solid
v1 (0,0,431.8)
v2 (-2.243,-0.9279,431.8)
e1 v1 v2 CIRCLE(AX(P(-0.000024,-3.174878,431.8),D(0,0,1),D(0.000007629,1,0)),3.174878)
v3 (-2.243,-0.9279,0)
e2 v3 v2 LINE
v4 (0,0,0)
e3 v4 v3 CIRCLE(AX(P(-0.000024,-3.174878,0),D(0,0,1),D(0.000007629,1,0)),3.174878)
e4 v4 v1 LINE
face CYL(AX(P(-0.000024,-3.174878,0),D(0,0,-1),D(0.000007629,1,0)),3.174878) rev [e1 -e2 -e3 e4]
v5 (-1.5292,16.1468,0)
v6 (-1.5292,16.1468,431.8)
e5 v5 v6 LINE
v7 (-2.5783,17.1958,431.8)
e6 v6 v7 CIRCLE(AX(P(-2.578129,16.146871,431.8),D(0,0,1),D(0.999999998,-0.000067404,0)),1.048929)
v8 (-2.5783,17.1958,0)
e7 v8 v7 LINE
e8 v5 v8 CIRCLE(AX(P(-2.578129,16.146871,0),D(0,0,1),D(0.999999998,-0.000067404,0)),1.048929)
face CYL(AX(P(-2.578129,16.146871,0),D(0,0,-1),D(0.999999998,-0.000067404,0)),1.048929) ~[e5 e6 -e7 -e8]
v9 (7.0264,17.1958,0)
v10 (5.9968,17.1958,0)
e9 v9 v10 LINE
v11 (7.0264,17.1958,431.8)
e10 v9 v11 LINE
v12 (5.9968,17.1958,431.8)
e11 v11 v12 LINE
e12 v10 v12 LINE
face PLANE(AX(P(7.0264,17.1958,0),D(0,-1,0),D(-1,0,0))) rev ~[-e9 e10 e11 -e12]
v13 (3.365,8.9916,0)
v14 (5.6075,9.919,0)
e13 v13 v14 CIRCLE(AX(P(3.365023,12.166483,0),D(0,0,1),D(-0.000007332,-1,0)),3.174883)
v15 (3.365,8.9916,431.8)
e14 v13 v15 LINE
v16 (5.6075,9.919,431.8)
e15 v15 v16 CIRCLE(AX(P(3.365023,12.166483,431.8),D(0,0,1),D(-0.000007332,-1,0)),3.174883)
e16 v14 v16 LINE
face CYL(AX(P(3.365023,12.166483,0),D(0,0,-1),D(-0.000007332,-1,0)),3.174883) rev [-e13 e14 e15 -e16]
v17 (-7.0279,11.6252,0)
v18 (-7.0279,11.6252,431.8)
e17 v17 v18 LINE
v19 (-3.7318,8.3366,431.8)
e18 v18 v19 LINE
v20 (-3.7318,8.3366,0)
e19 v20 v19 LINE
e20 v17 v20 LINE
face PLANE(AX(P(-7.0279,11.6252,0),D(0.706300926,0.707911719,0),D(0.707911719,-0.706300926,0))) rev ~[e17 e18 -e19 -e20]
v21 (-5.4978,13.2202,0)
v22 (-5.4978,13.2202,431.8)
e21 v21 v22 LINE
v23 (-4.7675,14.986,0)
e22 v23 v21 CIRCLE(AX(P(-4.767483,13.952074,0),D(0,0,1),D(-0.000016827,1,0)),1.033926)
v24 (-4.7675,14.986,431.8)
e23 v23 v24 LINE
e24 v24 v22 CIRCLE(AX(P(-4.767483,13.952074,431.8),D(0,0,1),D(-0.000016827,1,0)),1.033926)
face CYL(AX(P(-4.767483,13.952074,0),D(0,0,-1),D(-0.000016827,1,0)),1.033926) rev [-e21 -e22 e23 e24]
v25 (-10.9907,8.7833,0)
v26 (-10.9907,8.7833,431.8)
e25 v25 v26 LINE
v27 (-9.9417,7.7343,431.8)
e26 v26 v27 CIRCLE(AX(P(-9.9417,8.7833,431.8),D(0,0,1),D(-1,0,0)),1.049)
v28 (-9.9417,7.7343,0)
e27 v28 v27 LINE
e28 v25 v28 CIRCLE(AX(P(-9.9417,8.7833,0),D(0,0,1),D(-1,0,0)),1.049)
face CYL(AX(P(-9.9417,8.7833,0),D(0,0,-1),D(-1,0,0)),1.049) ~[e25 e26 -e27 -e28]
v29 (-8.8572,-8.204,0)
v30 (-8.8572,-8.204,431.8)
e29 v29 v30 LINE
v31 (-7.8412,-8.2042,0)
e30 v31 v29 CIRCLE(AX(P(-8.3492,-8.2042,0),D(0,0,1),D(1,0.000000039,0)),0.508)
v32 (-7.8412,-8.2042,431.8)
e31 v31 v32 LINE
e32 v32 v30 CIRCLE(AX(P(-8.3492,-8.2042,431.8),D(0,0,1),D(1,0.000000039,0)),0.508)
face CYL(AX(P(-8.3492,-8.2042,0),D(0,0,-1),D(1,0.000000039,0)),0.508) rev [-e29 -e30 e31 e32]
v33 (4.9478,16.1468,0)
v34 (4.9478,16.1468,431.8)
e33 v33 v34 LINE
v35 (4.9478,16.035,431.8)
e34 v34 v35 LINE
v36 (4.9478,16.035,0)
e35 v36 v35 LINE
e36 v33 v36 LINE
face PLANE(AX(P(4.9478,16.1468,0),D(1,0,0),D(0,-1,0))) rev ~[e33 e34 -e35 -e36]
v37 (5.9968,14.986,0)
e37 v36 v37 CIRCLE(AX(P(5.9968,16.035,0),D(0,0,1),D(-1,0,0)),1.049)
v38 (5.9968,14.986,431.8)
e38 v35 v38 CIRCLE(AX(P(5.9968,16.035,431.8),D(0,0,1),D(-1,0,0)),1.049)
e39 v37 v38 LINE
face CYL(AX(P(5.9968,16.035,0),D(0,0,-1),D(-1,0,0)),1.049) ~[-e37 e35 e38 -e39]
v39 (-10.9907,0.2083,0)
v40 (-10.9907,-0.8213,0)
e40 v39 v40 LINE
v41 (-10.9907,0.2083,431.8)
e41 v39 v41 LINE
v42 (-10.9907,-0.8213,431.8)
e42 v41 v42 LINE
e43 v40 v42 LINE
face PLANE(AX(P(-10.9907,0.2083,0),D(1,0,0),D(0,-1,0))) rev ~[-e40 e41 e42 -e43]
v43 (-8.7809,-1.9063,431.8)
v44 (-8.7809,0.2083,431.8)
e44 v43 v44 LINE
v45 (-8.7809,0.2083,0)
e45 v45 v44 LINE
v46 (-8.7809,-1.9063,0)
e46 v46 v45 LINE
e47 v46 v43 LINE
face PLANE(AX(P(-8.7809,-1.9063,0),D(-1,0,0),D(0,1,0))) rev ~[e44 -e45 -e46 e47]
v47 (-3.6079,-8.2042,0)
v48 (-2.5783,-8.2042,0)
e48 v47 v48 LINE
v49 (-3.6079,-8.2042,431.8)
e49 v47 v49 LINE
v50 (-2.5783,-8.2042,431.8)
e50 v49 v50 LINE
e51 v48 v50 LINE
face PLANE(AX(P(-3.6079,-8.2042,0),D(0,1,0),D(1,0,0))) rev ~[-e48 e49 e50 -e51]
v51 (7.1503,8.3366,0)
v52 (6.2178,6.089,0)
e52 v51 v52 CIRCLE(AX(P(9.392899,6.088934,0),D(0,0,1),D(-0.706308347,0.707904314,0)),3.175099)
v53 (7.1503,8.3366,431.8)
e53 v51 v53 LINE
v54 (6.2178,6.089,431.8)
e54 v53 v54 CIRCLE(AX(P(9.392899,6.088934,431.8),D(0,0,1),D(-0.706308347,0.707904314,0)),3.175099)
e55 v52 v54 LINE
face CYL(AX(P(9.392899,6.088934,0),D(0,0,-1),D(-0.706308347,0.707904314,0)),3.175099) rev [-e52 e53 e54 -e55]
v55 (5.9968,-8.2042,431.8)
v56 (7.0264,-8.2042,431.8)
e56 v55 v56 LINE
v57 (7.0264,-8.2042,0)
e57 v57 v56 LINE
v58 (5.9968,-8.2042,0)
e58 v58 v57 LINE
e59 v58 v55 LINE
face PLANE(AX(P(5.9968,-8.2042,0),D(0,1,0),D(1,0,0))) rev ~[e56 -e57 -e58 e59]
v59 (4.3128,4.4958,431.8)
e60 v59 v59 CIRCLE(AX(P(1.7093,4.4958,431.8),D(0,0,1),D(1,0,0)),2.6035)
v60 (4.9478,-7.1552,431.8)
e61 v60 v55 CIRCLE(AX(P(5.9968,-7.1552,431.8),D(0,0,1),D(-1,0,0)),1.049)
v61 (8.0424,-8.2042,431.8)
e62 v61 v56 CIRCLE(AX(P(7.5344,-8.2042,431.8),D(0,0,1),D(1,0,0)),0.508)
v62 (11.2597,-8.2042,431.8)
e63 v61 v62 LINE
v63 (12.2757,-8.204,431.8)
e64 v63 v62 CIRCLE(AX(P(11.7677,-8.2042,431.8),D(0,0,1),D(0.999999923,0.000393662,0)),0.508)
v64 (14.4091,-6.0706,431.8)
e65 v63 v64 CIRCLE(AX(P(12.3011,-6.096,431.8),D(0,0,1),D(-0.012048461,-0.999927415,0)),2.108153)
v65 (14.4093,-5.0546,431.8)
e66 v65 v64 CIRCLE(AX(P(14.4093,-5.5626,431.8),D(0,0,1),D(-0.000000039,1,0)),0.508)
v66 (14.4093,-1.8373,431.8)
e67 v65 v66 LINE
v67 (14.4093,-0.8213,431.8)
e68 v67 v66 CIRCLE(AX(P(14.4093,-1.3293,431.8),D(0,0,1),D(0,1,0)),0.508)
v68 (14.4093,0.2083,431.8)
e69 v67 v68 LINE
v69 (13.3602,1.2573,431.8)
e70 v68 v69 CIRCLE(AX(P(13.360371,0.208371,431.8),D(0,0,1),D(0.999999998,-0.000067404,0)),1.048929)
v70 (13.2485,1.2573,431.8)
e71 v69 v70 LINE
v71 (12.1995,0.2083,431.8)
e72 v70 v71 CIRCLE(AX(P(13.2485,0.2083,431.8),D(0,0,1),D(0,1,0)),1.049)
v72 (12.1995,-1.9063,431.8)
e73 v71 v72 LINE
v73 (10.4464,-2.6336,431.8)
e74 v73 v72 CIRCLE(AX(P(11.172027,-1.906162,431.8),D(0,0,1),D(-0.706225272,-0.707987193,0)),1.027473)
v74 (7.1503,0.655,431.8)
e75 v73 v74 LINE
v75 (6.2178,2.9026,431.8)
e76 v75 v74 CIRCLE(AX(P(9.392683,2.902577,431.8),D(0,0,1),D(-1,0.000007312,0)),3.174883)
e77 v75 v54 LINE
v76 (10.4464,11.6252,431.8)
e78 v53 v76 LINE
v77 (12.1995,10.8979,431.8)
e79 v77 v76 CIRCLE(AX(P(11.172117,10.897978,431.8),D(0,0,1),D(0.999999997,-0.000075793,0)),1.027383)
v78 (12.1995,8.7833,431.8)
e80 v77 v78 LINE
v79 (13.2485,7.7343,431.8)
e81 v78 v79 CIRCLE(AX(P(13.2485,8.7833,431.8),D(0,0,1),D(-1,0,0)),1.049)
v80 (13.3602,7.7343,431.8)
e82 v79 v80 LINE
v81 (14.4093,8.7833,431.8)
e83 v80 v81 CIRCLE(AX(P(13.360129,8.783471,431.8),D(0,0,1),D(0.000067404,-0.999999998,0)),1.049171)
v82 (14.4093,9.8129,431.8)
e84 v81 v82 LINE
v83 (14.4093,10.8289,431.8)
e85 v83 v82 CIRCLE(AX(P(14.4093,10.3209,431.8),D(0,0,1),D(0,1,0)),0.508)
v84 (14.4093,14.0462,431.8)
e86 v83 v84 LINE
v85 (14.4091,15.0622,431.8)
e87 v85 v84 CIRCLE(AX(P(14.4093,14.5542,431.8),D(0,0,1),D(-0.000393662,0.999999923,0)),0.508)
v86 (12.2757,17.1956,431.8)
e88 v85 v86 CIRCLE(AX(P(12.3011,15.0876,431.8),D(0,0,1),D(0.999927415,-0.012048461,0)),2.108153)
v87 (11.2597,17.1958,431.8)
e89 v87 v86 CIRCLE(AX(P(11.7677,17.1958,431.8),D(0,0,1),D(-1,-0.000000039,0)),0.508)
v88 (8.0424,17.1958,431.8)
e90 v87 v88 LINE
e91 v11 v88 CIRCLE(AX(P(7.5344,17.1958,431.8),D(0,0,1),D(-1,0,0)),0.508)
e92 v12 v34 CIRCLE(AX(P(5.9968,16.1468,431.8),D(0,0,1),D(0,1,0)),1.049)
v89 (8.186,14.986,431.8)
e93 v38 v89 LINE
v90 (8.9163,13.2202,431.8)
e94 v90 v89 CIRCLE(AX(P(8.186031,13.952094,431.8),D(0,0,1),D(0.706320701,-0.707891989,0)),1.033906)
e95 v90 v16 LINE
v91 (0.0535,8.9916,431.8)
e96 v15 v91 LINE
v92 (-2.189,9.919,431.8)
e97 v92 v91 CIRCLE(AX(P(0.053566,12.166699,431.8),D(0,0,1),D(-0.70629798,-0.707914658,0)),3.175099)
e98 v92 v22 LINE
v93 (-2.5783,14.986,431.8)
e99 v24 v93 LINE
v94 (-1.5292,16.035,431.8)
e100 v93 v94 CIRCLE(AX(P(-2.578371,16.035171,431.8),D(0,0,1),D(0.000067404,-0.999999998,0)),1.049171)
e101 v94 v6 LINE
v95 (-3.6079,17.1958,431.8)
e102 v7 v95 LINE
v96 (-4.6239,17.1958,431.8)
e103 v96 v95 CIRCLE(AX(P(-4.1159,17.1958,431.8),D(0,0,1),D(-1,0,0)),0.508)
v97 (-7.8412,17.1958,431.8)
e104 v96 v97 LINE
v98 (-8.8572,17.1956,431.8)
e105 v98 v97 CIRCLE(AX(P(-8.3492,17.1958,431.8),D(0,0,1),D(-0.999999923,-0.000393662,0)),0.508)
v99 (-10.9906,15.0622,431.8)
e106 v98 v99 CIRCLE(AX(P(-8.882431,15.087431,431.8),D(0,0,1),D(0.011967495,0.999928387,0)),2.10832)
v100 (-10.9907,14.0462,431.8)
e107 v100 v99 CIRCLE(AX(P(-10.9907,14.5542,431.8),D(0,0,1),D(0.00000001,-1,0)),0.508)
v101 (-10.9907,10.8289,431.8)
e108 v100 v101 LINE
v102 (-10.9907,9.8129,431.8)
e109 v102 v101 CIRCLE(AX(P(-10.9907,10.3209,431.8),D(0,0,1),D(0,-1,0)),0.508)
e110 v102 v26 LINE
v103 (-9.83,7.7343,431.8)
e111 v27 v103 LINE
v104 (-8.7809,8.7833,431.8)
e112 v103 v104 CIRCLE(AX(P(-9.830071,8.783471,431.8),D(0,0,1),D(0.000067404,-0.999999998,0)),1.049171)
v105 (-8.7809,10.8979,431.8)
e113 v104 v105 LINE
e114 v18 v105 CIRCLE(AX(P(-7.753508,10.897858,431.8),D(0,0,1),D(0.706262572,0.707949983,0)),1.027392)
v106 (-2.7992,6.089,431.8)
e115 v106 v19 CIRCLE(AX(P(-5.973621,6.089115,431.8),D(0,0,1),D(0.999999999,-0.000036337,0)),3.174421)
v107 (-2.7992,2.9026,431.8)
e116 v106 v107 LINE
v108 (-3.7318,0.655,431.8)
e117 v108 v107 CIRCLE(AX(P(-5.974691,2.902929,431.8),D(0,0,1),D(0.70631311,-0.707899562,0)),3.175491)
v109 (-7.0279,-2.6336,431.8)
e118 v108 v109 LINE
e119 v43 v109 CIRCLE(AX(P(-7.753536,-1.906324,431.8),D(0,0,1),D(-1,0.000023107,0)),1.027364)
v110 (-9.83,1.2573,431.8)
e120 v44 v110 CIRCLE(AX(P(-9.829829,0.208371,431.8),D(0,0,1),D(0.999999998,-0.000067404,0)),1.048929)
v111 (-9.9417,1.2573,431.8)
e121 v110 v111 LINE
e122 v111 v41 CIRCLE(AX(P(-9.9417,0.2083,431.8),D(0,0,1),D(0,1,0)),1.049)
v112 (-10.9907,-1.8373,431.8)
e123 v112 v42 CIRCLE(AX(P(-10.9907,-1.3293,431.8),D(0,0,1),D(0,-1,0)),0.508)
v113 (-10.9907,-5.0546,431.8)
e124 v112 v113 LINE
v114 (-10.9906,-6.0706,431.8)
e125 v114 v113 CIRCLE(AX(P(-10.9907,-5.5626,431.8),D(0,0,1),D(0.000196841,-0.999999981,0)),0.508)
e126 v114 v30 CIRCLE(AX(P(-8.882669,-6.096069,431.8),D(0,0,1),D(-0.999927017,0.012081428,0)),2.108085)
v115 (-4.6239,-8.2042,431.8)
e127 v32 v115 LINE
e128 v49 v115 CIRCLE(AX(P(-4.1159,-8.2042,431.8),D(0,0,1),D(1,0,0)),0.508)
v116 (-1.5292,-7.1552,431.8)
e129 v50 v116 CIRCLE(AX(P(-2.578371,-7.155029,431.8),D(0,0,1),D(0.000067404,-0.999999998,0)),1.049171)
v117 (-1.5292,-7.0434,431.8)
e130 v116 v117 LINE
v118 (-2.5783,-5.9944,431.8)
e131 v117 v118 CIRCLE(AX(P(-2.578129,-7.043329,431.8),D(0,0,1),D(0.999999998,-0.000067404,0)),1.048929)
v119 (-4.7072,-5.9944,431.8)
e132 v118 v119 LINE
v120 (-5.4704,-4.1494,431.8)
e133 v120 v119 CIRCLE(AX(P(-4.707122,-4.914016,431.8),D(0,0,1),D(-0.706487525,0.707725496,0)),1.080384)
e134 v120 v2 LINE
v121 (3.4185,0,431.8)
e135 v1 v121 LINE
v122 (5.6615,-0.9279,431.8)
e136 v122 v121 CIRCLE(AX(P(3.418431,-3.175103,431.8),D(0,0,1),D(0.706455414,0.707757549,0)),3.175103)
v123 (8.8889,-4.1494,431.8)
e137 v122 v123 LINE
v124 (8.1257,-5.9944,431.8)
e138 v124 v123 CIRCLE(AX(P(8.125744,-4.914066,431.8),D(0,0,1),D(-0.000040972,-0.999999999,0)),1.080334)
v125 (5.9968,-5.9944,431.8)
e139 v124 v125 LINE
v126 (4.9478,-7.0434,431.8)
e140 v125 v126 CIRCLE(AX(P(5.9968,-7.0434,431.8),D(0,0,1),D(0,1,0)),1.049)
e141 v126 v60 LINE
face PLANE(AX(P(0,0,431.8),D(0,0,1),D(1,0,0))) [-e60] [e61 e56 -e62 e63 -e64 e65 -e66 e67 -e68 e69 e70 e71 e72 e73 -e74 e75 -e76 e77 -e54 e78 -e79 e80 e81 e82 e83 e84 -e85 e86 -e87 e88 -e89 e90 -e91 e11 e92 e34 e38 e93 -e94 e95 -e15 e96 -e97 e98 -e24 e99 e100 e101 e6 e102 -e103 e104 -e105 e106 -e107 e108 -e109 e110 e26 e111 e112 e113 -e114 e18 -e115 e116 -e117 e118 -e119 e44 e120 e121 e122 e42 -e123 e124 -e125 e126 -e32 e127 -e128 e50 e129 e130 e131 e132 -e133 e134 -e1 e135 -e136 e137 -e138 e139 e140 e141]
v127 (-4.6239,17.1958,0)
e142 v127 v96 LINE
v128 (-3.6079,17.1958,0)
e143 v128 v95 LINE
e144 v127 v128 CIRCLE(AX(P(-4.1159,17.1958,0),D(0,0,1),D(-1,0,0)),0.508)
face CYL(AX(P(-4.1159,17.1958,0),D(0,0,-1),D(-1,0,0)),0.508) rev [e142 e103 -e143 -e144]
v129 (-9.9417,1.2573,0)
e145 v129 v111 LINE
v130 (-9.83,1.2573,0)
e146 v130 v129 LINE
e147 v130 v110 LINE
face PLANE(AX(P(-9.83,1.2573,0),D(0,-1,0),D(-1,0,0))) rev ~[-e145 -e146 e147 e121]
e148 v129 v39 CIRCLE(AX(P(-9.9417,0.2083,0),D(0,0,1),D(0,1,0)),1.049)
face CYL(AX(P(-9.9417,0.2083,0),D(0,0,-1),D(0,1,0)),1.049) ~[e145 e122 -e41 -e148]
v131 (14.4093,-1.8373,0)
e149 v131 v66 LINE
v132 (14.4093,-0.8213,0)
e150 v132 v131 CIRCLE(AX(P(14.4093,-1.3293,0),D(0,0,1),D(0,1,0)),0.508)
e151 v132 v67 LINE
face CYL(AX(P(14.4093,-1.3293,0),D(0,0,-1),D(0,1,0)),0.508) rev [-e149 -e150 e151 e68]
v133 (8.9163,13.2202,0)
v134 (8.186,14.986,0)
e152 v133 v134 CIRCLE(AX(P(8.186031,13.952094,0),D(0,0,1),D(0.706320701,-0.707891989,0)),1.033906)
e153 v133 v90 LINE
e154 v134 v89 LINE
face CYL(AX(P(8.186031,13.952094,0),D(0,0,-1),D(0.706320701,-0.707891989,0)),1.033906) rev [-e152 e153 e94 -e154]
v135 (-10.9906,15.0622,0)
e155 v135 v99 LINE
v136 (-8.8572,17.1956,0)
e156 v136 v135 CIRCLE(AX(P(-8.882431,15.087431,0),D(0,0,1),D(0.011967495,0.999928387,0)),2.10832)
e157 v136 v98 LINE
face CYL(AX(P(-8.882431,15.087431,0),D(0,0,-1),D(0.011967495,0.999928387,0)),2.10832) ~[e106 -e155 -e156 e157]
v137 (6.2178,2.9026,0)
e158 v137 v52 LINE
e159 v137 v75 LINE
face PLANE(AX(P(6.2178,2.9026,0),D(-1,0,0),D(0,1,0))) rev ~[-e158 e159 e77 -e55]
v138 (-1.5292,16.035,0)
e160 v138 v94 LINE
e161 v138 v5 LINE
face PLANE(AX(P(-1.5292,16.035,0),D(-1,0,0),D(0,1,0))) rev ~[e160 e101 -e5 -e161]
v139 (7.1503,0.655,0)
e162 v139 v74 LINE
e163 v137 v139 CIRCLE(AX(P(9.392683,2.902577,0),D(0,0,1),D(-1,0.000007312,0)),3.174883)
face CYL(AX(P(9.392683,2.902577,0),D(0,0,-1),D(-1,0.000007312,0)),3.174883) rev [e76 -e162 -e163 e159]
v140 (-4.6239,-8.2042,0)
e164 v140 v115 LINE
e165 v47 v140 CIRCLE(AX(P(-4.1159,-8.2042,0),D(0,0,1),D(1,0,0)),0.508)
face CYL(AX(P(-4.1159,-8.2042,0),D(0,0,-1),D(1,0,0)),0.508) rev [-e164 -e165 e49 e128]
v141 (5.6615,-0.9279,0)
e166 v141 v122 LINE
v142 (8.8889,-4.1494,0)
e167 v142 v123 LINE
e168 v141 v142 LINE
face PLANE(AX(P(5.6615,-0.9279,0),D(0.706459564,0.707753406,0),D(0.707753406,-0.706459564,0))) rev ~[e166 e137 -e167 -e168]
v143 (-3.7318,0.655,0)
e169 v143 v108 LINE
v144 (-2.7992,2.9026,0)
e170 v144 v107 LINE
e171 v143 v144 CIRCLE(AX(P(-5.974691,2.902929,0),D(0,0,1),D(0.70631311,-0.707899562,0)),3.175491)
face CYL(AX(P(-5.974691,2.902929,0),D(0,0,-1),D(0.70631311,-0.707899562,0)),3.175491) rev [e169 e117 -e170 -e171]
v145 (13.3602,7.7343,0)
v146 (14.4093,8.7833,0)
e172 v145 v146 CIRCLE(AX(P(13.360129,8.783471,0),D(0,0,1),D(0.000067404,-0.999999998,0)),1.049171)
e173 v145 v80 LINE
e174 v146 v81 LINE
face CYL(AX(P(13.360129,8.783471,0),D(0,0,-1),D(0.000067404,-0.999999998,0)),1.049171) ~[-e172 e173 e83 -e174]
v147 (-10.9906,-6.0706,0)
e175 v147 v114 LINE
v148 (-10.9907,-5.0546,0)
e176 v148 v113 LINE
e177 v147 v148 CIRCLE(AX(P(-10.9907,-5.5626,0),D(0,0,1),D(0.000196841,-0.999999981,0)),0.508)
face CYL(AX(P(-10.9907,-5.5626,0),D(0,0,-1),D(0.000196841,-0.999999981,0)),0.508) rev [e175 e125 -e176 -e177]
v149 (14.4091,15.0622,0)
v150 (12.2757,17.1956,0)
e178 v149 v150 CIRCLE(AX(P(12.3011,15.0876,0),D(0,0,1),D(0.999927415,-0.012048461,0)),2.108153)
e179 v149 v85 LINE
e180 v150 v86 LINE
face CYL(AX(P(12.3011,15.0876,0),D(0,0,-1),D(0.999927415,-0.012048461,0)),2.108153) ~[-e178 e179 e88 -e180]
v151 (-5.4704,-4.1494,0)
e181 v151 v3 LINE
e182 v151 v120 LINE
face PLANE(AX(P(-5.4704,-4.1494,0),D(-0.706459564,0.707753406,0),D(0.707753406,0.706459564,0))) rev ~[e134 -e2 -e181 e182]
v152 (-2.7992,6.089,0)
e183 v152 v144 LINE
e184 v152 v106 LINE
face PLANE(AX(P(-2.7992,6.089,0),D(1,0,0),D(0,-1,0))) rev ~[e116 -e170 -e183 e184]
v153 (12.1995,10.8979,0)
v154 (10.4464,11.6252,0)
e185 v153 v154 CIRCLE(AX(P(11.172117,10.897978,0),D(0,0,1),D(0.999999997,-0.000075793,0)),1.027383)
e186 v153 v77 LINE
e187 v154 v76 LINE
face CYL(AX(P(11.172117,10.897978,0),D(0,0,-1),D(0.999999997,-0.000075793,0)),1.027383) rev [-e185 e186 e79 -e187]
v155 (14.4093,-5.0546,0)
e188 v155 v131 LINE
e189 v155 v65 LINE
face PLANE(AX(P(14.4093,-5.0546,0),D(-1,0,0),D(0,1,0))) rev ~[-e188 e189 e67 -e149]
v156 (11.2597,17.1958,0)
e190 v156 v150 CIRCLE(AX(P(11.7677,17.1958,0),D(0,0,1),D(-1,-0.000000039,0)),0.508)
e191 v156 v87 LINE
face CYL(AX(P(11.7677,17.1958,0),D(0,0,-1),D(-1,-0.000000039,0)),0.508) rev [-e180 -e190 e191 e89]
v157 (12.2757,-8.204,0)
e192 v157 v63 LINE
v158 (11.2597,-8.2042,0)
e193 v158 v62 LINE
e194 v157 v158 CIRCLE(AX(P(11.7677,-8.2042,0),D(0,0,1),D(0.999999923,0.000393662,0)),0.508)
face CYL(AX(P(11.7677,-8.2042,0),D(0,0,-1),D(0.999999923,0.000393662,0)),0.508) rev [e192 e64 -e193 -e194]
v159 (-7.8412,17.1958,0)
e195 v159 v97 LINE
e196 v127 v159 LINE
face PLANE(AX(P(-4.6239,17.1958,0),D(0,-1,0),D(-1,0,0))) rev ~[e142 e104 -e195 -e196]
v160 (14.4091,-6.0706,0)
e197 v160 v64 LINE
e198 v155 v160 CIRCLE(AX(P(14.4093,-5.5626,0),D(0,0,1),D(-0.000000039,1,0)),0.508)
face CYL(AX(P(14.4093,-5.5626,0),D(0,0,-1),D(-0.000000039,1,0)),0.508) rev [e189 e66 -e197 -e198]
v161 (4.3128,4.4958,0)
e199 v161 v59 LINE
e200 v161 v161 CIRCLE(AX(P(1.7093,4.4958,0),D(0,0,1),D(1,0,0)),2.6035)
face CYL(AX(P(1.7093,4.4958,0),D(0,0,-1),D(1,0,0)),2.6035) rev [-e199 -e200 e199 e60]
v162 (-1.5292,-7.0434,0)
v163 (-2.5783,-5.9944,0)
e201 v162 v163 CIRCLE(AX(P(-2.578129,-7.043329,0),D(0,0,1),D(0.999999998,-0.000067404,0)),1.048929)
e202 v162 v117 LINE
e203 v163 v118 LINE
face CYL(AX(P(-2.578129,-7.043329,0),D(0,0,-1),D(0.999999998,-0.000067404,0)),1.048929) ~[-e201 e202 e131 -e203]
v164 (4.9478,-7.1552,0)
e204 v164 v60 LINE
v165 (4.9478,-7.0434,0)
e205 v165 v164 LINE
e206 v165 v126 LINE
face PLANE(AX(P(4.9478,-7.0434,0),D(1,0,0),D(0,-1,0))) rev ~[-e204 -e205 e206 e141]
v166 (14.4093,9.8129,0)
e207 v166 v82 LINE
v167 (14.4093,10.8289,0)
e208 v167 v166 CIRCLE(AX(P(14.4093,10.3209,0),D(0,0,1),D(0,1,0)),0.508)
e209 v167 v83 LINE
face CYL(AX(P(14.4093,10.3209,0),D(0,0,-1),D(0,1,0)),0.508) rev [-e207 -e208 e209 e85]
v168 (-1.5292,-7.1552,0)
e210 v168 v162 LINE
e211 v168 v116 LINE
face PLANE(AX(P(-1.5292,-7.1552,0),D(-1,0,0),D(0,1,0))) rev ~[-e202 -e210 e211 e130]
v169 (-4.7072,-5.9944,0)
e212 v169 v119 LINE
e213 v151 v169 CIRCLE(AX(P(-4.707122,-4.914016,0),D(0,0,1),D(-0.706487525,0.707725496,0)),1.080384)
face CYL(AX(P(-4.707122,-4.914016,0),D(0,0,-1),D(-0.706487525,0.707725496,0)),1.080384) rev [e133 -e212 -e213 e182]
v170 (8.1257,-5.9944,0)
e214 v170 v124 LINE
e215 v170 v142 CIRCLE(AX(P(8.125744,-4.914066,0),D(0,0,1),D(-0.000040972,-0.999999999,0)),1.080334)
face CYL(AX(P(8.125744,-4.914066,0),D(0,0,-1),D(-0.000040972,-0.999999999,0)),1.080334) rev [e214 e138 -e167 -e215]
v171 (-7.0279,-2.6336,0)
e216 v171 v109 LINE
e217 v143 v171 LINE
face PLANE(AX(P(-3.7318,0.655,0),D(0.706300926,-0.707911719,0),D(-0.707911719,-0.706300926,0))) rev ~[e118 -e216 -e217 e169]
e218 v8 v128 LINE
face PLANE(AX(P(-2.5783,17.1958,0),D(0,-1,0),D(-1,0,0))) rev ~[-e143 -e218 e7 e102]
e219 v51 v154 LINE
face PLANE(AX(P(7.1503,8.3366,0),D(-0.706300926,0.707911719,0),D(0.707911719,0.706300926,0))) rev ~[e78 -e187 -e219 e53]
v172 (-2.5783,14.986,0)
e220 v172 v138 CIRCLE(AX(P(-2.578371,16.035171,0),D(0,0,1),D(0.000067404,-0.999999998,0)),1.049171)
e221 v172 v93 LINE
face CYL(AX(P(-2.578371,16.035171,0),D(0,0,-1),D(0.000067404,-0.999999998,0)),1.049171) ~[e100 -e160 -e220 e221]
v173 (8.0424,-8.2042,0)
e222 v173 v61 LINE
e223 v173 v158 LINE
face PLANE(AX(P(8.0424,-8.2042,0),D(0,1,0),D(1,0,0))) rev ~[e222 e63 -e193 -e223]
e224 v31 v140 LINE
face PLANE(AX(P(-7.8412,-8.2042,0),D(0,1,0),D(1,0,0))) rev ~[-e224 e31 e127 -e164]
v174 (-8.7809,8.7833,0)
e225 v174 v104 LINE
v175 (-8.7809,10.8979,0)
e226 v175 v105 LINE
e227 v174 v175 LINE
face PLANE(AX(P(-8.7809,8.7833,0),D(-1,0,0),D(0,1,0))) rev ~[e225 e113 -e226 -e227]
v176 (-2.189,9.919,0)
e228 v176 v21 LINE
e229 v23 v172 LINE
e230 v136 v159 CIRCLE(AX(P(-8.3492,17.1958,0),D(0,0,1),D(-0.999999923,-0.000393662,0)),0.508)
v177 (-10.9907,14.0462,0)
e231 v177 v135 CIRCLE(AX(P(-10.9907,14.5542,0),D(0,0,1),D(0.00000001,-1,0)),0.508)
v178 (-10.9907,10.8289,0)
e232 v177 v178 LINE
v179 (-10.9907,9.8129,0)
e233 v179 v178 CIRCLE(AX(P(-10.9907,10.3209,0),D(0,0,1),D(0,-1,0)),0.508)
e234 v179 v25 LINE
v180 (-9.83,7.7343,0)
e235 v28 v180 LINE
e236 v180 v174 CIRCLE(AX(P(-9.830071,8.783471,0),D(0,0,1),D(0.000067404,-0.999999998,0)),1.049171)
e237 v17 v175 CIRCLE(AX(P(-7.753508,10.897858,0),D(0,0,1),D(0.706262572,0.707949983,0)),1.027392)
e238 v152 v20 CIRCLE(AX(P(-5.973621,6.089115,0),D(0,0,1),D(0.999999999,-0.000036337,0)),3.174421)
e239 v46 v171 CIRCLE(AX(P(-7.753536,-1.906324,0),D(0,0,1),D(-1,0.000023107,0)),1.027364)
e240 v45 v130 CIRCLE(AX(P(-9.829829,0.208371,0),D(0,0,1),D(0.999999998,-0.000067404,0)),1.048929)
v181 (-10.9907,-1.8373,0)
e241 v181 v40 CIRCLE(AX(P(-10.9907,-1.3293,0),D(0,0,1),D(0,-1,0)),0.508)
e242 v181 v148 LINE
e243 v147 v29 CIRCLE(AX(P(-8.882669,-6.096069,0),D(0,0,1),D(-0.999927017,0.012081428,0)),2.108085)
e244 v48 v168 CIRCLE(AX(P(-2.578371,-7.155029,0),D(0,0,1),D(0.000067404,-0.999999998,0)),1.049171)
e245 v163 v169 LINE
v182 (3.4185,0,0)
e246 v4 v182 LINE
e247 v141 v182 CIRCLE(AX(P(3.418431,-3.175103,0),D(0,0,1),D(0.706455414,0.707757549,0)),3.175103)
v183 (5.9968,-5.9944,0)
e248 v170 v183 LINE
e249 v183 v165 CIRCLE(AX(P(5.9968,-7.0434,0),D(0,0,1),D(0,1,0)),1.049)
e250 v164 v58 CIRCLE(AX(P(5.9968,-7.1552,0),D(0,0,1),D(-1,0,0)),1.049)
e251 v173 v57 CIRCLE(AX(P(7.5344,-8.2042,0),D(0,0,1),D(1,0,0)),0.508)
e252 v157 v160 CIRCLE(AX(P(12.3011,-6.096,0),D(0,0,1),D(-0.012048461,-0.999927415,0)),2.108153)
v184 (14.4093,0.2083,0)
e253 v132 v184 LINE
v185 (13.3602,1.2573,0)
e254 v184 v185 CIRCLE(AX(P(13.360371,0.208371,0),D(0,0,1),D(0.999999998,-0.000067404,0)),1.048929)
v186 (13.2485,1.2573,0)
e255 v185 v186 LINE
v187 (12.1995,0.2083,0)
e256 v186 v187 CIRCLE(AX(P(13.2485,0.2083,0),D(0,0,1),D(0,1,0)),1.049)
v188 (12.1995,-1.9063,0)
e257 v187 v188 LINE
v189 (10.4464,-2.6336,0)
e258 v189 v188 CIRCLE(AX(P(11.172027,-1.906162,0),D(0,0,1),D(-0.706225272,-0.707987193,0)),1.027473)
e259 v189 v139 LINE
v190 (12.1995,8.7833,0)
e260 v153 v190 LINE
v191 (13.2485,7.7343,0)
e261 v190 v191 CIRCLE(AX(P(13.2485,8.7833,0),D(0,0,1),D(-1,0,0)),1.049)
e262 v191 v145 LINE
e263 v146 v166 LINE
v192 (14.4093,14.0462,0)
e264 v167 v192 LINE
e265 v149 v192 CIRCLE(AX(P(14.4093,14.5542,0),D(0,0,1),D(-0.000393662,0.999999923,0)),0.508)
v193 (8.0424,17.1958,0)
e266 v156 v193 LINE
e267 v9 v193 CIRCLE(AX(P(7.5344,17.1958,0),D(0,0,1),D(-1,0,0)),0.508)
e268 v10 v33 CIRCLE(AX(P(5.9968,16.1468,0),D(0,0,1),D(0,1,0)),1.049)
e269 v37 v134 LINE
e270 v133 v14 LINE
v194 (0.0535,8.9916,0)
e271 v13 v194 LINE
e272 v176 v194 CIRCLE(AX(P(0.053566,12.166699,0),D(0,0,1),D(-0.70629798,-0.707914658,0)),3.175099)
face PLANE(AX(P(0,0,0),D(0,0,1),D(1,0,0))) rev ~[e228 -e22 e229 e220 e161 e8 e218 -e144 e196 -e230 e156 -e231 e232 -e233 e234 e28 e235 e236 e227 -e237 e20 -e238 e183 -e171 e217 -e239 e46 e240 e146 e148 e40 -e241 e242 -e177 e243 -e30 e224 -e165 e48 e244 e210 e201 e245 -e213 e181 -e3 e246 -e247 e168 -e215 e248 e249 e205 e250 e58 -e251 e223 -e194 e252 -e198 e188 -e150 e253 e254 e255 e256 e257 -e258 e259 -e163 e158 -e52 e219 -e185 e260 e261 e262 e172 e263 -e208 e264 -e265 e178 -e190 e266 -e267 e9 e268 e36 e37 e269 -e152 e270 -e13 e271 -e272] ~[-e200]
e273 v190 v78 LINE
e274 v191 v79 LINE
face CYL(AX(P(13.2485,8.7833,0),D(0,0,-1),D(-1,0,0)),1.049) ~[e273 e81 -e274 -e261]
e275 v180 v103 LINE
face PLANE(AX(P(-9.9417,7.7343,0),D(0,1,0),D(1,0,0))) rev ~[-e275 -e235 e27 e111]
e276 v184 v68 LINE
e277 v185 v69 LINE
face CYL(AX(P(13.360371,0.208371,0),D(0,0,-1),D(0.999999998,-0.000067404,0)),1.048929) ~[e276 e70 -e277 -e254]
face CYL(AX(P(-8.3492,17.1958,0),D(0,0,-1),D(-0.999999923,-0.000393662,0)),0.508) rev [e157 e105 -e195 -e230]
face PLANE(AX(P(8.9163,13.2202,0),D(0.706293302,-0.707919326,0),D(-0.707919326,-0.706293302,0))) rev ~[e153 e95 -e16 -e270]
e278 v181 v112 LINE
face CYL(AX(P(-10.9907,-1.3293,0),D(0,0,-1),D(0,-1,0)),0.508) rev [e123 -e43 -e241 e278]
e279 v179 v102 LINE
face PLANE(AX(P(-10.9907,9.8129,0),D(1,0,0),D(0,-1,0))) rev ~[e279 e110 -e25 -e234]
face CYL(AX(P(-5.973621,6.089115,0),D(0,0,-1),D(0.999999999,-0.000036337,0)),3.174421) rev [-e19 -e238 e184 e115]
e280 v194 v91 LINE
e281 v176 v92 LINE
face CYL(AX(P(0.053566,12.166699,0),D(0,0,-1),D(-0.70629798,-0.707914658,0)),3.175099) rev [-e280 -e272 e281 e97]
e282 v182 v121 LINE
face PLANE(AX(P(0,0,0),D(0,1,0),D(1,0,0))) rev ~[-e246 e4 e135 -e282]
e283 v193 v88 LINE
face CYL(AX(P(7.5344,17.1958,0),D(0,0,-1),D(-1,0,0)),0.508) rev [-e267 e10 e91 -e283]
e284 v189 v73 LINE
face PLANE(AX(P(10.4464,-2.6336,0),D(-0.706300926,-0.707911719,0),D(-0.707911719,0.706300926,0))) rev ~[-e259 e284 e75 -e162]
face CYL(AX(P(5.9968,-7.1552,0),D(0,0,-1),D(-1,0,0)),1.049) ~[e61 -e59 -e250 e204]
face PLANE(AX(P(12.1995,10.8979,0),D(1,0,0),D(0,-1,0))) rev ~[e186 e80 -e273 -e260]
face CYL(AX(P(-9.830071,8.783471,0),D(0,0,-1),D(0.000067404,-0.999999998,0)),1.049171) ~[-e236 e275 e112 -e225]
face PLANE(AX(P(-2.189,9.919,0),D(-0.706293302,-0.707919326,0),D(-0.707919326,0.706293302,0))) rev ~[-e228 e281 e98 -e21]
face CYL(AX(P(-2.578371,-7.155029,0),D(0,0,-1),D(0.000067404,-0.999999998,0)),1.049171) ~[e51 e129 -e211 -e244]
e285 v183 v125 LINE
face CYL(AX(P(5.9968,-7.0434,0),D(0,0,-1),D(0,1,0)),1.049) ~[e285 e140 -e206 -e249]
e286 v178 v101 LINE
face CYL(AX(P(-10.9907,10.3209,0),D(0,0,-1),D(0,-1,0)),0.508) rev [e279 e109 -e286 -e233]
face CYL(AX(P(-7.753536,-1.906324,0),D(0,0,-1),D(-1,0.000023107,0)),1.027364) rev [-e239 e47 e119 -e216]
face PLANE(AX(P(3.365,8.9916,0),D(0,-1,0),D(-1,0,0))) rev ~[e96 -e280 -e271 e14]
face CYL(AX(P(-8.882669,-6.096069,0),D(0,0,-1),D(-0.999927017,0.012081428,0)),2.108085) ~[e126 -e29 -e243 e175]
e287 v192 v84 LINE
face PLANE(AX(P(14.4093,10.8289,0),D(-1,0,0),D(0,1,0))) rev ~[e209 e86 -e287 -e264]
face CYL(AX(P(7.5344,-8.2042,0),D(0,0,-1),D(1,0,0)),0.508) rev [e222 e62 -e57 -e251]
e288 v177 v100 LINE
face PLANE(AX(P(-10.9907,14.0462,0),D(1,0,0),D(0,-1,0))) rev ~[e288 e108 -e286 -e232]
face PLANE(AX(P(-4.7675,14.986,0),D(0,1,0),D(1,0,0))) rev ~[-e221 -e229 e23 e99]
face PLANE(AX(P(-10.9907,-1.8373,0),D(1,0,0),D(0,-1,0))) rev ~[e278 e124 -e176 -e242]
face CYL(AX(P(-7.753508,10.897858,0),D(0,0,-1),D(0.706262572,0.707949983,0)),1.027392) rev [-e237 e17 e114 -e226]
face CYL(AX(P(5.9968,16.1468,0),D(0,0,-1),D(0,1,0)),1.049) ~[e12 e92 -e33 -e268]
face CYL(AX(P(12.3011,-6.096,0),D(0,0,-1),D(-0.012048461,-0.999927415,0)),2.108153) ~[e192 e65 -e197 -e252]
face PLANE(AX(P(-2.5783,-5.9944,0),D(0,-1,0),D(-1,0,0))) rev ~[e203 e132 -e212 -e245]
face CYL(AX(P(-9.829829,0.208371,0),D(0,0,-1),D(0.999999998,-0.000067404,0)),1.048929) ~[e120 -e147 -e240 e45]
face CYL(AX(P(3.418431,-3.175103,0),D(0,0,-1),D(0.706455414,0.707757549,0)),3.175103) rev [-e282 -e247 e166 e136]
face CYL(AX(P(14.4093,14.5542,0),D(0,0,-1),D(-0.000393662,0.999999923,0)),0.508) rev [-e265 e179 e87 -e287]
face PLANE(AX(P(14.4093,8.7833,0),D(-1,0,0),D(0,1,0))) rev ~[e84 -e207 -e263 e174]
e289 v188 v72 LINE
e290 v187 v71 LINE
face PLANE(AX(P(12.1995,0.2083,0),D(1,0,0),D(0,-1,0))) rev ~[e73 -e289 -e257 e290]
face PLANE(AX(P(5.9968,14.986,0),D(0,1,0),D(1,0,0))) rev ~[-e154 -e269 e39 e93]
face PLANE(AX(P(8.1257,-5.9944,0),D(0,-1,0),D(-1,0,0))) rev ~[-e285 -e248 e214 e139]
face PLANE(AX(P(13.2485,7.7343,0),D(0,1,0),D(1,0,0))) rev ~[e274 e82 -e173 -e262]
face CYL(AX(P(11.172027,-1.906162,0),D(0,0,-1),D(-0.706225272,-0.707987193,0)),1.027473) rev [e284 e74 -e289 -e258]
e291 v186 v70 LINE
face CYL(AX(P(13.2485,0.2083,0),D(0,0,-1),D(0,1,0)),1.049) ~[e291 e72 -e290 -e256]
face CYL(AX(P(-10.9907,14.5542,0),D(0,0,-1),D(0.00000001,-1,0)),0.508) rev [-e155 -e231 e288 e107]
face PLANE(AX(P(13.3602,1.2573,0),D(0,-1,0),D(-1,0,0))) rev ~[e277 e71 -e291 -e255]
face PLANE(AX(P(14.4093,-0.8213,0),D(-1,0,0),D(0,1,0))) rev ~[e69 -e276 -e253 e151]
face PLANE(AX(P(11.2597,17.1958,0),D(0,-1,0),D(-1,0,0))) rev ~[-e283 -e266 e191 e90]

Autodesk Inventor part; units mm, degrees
ref_plane "YZ Plane" through (0, 0, 0) normal (1, 0, 0) x (0, 1, 0)
ref_plane "XZ Plane" through (0, 0, 0) normal (0, 1, 0) x (-1, 0, 0)
ref_plane "XY Plane" through (0, 0, 0) normal (0, 0, 1) x (1, 0, 0)
sketch "Sketch1" plane through (0, 0, 0) normal (0, 0, 1) x (1, 0, 0)
  arc A0 (-5.4704, -4.1494) -> (-4.7072, -5.9944) centre (-4.7072, -4.914) ccw
  line L0 (-5.4704, -4.1494) -> (-2.243, -0.9279)
  arc A1 (0, 0) -> (-2.243, -0.9279) centre (0, -3.175) ccw
  line L1 (0, 0) -> (3.4185, 0)
  arc A2 (5.6615, -0.9279) -> (3.4185, 0) centre (3.4185, -3.175) ccw
  line L2 (5.6615, -0.9279) -> (8.8889, -4.1494)
  arc A3 (8.1257, -5.9944) -> (8.8889, -4.1494) centre (8.1257, -4.914) ccw
  line L3 (8.1257, -5.9944) -> (5.9968, -5.9944)
  arc A4 (5.9968, -5.9944) -> (4.9478, -7.0434) centre (5.9968, -7.0434) ccw
  line L4 (4.9478, -7.0434) -> (4.9478, -7.1552)
  arc A5 (4.9478, -7.1552) -> (5.9968, -8.2042) centre (5.9968, -7.1552) ccw
  line L5 (5.9968, -8.2042) -> (7.0264, -8.2042)
  arc A6 (8.0424, -8.2042) -> (7.0264, -8.2042) centre (7.5344, -8.2042) ccw
  line L6 (8.0424, -8.2042) -> (11.2597, -8.2042)
  arc A7 (12.2757, -8.204) -> (11.2597, -8.2042) centre (11.7677, -8.2042) ccw
  arc A8 (12.2757, -8.204) -> (14.4091, -6.0706) centre (12.3011, -6.096) ccw
  arc A9 (14.4093, -5.0546) -> (14.4091, -6.0706) centre (14.4093, -5.5626) ccw
  line L7 (14.4093, -5.0546) -> (14.4093, -1.8373)
  arc A10 (14.4093, -0.8213) -> (14.4093, -1.8373) centre (14.4093, -1.3293) ccw
  line L8 (14.4093, -0.8213) -> (14.4093, 0.2083)
  arc A11 (14.4093, 0.2083) -> (13.3602, 1.2573) centre (13.3602, 0.2083) ccw
  line L9 (13.3602, 1.2573) -> (13.2485, 1.2573)
  arc A12 (13.2485, 1.2573) -> (12.1995, 0.2083) centre (13.2485, 0.2083) ccw
  line L10 (12.1995, 0.2083) -> (12.1995, -1.9063)
  arc A13 (10.4464, -2.6336) -> (12.1995, -1.9063) centre (11.172, -1.9063) ccw
  line L11 (10.4464, -2.6336) -> (7.1503, 0.655)
  arc A14 (6.2178, 2.9026) -> (7.1503, 0.655) centre (9.3928, 2.9026) ccw
  line L12 (6.2178, 2.9026) -> (6.2178, 6.089)
  arc A15 (7.1503, 8.3366) -> (6.2178, 6.089) centre (9.3928, 6.089) ccw
  line L13 (7.1503, 8.3366) -> (10.4464, 11.6252)
  arc A16 (12.1995, 10.8979) -> (10.4464, 11.6252) centre (11.172, 10.8979) ccw
  line L14 (12.1995, 10.8979) -> (12.1995, 8.7833)
  arc A17 (12.1995, 8.7833) -> (13.2485, 7.7343) centre (13.2485, 8.7833) ccw
  line L15 (13.2485, 7.7343) -> (13.3602, 7.7343)
  arc A18 (13.3602, 7.7343) -> (14.4093, 8.7833) centre (13.3602, 8.7833) ccw
  line L16 (14.4093, 8.7833) -> (14.4093, 9.8129)
  arc A19 (14.4093, 10.8289) -> (14.4093, 9.8129) centre (14.4093, 10.3209) ccw
  line L17 (14.4093, 10.8289) -> (14.4093, 14.0462)
  arc A20 (14.4091, 15.0622) -> (14.4093, 14.0462) centre (14.4093, 14.5542) ccw
  arc A21 (14.4091, 15.0622) -> (12.2757, 17.1956) centre (12.3011, 15.0876) ccw
  arc A22 (11.2597, 17.1958) -> (12.2757, 17.1956) centre (11.7677, 17.1958) ccw
  line L18 (11.2597, 17.1958) -> (8.0424, 17.1958)
  arc A23 (7.0264, 17.1958) -> (8.0424, 17.1958) centre (7.5344, 17.1958) ccw
  line L19 (7.0264, 17.1958) -> (5.9968, 17.1958)
  arc A24 (5.9968, 17.1958) -> (4.9478, 16.1468) centre (5.9968, 16.1468) ccw
  line L20 (4.9478, 16.1468) -> (4.9478, 16.035)
  arc A25 (4.9478, 16.035) -> (5.9968, 14.986) centre (5.9968, 16.035) ccw
  line L21 (5.9968, 14.986) -> (8.186, 14.986)
  arc A26 (8.9163, 13.2202) -> (8.186, 14.986) centre (8.186, 13.9521) ccw
  line L22 (8.9163, 13.2202) -> (5.6075, 9.919)
  arc A27 (3.365, 8.9916) -> (5.6075, 9.919) centre (3.365, 12.1666) ccw
  line L23 (3.365, 8.9916) -> (0.0535, 8.9916)
  arc A28 (-2.189, 9.919) -> (0.0535, 8.9916) centre (0.0535, 12.1666) ccw
  line L24 (-2.189, 9.919) -> (-5.4978, 13.2202)
  arc A29 (-4.7675, 14.986) -> (-5.4978, 13.2202) centre (-4.7675, 13.9521) ccw
  line L25 (-4.7675, 14.986) -> (-2.5783, 14.986)
  arc A30 (-2.5783, 14.986) -> (-1.5292, 16.035) centre (-2.5783, 16.035) ccw
  line L26 (-1.5292, 16.035) -> (-1.5292, 16.1468)
  arc A31 (-1.5292, 16.1468) -> (-2.5783, 17.1958) centre (-2.5783, 16.1468) ccw
  line L27 (-2.5783, 17.1958) -> (-3.6079, 17.1958)
  arc A32 (-4.6239, 17.1958) -> (-3.6079, 17.1958) centre (-4.1159, 17.1958) ccw
  line L28 (-4.6239, 17.1958) -> (-7.8412, 17.1958)
  arc A33 (-8.8572, 17.1956) -> (-7.8412, 17.1958) centre (-8.3492, 17.1958) ccw
  arc A34 (-8.8572, 17.1956) -> (-10.9906, 15.0622) centre (-8.8825, 15.0876) ccw
  arc A35 (-10.9907, 14.0462) -> (-10.9906, 15.0622) centre (-10.9907, 14.5542) ccw
  line L29 (-10.9907, 14.0462) -> (-10.9907, 10.8289)
  arc A36 (-10.9907, 9.8129) -> (-10.9907, 10.8289) centre (-10.9907, 10.3209) ccw
  line L30 (-10.9907, 9.8129) -> (-10.9907, 8.7833)
  arc A37 (-10.9907, 8.7833) -> (-9.9417, 7.7343) centre (-9.9417, 8.7833) ccw
  line L31 (-9.9417, 7.7343) -> (-9.83, 7.7343)
  arc A38 (-9.83, 7.7343) -> (-8.7809, 8.7833) centre (-9.83, 8.7833) ccw
  line L32 (-8.7809, 8.7833) -> (-8.7809, 10.8979)
  arc A39 (-7.0279, 11.6252) -> (-8.7809, 10.8979) centre (-7.7535, 10.8979) ccw
  line L33 (-7.0279, 11.6252) -> (-3.7318, 8.3366)
  arc A40 (-2.7992, 6.089) -> (-3.7318, 8.3366) centre (-5.9742, 6.089) ccw
  line L34 (-2.7992, 6.089) -> (-2.7992, 2.9026)
  arc A41 (-3.7318, 0.655) -> (-2.7992, 2.9026) centre (-5.9742, 2.9026) ccw
  line L35 (-3.7318, 0.655) -> (-7.0279, -2.6336)
  arc A42 (-8.7809, -1.9063) -> (-7.0279, -2.6336) centre (-7.7535, -1.9063) ccw
  line L36 (-8.7809, -1.9063) -> (-8.7809, 0.2083)
  arc A43 (-8.7809, 0.2083) -> (-9.83, 1.2573) centre (-9.83, 0.2083) ccw
  line L37 (-9.83, 1.2573) -> (-9.9417, 1.2573)
  arc A44 (-9.9417, 1.2573) -> (-10.9907, 0.2083) centre (-9.9417, 0.2083) ccw
  line L38 (-10.9907, 0.2083) -> (-10.9907, -0.8213)
  arc A45 (-10.9907, -1.8373) -> (-10.9907, -0.8213) centre (-10.9907, -1.3293) ccw
  line L39 (-10.9907, -1.8373) -> (-10.9907, -5.0546)
  arc A46 (-10.9906, -6.0706) -> (-10.9907, -5.0546) centre (-10.9907, -5.5626) ccw
  arc A47 (-10.9906, -6.0706) -> (-8.8572, -8.204) centre (-8.8825, -6.096) ccw
  arc A48 (-7.8412, -8.2042) -> (-8.8572, -8.204) centre (-8.3492, -8.2042) ccw
  line L40 (-7.8412, -8.2042) -> (-4.6239, -8.2042)
  arc A49 (-3.6079, -8.2042) -> (-4.6239, -8.2042) centre (-4.1159, -8.2042) ccw
  line L41 (-3.6079, -8.2042) -> (-2.5783, -8.2042)
  arc A50 (-2.5783, -8.2042) -> (-1.5292, -7.1552) centre (-2.5783, -7.1552) ccw
  line L42 (-1.5292, -7.1552) -> (-1.5292, -7.0434)
  arc A51 (-1.5292, -7.0434) -> (-2.5783, -5.9944) centre (-2.5783, -7.0434) ccw
  line L43 (-2.5783, -5.9944) -> (-4.7072, -5.9944)
  circle A52 centre (1.7093, 4.4958) radius 2.6035
extrude "Extrusion1" add sketch "Sketch1" along normal blind 431.8
properties part number "17 in 1x1 T slot" material "Steel, Alloy"
